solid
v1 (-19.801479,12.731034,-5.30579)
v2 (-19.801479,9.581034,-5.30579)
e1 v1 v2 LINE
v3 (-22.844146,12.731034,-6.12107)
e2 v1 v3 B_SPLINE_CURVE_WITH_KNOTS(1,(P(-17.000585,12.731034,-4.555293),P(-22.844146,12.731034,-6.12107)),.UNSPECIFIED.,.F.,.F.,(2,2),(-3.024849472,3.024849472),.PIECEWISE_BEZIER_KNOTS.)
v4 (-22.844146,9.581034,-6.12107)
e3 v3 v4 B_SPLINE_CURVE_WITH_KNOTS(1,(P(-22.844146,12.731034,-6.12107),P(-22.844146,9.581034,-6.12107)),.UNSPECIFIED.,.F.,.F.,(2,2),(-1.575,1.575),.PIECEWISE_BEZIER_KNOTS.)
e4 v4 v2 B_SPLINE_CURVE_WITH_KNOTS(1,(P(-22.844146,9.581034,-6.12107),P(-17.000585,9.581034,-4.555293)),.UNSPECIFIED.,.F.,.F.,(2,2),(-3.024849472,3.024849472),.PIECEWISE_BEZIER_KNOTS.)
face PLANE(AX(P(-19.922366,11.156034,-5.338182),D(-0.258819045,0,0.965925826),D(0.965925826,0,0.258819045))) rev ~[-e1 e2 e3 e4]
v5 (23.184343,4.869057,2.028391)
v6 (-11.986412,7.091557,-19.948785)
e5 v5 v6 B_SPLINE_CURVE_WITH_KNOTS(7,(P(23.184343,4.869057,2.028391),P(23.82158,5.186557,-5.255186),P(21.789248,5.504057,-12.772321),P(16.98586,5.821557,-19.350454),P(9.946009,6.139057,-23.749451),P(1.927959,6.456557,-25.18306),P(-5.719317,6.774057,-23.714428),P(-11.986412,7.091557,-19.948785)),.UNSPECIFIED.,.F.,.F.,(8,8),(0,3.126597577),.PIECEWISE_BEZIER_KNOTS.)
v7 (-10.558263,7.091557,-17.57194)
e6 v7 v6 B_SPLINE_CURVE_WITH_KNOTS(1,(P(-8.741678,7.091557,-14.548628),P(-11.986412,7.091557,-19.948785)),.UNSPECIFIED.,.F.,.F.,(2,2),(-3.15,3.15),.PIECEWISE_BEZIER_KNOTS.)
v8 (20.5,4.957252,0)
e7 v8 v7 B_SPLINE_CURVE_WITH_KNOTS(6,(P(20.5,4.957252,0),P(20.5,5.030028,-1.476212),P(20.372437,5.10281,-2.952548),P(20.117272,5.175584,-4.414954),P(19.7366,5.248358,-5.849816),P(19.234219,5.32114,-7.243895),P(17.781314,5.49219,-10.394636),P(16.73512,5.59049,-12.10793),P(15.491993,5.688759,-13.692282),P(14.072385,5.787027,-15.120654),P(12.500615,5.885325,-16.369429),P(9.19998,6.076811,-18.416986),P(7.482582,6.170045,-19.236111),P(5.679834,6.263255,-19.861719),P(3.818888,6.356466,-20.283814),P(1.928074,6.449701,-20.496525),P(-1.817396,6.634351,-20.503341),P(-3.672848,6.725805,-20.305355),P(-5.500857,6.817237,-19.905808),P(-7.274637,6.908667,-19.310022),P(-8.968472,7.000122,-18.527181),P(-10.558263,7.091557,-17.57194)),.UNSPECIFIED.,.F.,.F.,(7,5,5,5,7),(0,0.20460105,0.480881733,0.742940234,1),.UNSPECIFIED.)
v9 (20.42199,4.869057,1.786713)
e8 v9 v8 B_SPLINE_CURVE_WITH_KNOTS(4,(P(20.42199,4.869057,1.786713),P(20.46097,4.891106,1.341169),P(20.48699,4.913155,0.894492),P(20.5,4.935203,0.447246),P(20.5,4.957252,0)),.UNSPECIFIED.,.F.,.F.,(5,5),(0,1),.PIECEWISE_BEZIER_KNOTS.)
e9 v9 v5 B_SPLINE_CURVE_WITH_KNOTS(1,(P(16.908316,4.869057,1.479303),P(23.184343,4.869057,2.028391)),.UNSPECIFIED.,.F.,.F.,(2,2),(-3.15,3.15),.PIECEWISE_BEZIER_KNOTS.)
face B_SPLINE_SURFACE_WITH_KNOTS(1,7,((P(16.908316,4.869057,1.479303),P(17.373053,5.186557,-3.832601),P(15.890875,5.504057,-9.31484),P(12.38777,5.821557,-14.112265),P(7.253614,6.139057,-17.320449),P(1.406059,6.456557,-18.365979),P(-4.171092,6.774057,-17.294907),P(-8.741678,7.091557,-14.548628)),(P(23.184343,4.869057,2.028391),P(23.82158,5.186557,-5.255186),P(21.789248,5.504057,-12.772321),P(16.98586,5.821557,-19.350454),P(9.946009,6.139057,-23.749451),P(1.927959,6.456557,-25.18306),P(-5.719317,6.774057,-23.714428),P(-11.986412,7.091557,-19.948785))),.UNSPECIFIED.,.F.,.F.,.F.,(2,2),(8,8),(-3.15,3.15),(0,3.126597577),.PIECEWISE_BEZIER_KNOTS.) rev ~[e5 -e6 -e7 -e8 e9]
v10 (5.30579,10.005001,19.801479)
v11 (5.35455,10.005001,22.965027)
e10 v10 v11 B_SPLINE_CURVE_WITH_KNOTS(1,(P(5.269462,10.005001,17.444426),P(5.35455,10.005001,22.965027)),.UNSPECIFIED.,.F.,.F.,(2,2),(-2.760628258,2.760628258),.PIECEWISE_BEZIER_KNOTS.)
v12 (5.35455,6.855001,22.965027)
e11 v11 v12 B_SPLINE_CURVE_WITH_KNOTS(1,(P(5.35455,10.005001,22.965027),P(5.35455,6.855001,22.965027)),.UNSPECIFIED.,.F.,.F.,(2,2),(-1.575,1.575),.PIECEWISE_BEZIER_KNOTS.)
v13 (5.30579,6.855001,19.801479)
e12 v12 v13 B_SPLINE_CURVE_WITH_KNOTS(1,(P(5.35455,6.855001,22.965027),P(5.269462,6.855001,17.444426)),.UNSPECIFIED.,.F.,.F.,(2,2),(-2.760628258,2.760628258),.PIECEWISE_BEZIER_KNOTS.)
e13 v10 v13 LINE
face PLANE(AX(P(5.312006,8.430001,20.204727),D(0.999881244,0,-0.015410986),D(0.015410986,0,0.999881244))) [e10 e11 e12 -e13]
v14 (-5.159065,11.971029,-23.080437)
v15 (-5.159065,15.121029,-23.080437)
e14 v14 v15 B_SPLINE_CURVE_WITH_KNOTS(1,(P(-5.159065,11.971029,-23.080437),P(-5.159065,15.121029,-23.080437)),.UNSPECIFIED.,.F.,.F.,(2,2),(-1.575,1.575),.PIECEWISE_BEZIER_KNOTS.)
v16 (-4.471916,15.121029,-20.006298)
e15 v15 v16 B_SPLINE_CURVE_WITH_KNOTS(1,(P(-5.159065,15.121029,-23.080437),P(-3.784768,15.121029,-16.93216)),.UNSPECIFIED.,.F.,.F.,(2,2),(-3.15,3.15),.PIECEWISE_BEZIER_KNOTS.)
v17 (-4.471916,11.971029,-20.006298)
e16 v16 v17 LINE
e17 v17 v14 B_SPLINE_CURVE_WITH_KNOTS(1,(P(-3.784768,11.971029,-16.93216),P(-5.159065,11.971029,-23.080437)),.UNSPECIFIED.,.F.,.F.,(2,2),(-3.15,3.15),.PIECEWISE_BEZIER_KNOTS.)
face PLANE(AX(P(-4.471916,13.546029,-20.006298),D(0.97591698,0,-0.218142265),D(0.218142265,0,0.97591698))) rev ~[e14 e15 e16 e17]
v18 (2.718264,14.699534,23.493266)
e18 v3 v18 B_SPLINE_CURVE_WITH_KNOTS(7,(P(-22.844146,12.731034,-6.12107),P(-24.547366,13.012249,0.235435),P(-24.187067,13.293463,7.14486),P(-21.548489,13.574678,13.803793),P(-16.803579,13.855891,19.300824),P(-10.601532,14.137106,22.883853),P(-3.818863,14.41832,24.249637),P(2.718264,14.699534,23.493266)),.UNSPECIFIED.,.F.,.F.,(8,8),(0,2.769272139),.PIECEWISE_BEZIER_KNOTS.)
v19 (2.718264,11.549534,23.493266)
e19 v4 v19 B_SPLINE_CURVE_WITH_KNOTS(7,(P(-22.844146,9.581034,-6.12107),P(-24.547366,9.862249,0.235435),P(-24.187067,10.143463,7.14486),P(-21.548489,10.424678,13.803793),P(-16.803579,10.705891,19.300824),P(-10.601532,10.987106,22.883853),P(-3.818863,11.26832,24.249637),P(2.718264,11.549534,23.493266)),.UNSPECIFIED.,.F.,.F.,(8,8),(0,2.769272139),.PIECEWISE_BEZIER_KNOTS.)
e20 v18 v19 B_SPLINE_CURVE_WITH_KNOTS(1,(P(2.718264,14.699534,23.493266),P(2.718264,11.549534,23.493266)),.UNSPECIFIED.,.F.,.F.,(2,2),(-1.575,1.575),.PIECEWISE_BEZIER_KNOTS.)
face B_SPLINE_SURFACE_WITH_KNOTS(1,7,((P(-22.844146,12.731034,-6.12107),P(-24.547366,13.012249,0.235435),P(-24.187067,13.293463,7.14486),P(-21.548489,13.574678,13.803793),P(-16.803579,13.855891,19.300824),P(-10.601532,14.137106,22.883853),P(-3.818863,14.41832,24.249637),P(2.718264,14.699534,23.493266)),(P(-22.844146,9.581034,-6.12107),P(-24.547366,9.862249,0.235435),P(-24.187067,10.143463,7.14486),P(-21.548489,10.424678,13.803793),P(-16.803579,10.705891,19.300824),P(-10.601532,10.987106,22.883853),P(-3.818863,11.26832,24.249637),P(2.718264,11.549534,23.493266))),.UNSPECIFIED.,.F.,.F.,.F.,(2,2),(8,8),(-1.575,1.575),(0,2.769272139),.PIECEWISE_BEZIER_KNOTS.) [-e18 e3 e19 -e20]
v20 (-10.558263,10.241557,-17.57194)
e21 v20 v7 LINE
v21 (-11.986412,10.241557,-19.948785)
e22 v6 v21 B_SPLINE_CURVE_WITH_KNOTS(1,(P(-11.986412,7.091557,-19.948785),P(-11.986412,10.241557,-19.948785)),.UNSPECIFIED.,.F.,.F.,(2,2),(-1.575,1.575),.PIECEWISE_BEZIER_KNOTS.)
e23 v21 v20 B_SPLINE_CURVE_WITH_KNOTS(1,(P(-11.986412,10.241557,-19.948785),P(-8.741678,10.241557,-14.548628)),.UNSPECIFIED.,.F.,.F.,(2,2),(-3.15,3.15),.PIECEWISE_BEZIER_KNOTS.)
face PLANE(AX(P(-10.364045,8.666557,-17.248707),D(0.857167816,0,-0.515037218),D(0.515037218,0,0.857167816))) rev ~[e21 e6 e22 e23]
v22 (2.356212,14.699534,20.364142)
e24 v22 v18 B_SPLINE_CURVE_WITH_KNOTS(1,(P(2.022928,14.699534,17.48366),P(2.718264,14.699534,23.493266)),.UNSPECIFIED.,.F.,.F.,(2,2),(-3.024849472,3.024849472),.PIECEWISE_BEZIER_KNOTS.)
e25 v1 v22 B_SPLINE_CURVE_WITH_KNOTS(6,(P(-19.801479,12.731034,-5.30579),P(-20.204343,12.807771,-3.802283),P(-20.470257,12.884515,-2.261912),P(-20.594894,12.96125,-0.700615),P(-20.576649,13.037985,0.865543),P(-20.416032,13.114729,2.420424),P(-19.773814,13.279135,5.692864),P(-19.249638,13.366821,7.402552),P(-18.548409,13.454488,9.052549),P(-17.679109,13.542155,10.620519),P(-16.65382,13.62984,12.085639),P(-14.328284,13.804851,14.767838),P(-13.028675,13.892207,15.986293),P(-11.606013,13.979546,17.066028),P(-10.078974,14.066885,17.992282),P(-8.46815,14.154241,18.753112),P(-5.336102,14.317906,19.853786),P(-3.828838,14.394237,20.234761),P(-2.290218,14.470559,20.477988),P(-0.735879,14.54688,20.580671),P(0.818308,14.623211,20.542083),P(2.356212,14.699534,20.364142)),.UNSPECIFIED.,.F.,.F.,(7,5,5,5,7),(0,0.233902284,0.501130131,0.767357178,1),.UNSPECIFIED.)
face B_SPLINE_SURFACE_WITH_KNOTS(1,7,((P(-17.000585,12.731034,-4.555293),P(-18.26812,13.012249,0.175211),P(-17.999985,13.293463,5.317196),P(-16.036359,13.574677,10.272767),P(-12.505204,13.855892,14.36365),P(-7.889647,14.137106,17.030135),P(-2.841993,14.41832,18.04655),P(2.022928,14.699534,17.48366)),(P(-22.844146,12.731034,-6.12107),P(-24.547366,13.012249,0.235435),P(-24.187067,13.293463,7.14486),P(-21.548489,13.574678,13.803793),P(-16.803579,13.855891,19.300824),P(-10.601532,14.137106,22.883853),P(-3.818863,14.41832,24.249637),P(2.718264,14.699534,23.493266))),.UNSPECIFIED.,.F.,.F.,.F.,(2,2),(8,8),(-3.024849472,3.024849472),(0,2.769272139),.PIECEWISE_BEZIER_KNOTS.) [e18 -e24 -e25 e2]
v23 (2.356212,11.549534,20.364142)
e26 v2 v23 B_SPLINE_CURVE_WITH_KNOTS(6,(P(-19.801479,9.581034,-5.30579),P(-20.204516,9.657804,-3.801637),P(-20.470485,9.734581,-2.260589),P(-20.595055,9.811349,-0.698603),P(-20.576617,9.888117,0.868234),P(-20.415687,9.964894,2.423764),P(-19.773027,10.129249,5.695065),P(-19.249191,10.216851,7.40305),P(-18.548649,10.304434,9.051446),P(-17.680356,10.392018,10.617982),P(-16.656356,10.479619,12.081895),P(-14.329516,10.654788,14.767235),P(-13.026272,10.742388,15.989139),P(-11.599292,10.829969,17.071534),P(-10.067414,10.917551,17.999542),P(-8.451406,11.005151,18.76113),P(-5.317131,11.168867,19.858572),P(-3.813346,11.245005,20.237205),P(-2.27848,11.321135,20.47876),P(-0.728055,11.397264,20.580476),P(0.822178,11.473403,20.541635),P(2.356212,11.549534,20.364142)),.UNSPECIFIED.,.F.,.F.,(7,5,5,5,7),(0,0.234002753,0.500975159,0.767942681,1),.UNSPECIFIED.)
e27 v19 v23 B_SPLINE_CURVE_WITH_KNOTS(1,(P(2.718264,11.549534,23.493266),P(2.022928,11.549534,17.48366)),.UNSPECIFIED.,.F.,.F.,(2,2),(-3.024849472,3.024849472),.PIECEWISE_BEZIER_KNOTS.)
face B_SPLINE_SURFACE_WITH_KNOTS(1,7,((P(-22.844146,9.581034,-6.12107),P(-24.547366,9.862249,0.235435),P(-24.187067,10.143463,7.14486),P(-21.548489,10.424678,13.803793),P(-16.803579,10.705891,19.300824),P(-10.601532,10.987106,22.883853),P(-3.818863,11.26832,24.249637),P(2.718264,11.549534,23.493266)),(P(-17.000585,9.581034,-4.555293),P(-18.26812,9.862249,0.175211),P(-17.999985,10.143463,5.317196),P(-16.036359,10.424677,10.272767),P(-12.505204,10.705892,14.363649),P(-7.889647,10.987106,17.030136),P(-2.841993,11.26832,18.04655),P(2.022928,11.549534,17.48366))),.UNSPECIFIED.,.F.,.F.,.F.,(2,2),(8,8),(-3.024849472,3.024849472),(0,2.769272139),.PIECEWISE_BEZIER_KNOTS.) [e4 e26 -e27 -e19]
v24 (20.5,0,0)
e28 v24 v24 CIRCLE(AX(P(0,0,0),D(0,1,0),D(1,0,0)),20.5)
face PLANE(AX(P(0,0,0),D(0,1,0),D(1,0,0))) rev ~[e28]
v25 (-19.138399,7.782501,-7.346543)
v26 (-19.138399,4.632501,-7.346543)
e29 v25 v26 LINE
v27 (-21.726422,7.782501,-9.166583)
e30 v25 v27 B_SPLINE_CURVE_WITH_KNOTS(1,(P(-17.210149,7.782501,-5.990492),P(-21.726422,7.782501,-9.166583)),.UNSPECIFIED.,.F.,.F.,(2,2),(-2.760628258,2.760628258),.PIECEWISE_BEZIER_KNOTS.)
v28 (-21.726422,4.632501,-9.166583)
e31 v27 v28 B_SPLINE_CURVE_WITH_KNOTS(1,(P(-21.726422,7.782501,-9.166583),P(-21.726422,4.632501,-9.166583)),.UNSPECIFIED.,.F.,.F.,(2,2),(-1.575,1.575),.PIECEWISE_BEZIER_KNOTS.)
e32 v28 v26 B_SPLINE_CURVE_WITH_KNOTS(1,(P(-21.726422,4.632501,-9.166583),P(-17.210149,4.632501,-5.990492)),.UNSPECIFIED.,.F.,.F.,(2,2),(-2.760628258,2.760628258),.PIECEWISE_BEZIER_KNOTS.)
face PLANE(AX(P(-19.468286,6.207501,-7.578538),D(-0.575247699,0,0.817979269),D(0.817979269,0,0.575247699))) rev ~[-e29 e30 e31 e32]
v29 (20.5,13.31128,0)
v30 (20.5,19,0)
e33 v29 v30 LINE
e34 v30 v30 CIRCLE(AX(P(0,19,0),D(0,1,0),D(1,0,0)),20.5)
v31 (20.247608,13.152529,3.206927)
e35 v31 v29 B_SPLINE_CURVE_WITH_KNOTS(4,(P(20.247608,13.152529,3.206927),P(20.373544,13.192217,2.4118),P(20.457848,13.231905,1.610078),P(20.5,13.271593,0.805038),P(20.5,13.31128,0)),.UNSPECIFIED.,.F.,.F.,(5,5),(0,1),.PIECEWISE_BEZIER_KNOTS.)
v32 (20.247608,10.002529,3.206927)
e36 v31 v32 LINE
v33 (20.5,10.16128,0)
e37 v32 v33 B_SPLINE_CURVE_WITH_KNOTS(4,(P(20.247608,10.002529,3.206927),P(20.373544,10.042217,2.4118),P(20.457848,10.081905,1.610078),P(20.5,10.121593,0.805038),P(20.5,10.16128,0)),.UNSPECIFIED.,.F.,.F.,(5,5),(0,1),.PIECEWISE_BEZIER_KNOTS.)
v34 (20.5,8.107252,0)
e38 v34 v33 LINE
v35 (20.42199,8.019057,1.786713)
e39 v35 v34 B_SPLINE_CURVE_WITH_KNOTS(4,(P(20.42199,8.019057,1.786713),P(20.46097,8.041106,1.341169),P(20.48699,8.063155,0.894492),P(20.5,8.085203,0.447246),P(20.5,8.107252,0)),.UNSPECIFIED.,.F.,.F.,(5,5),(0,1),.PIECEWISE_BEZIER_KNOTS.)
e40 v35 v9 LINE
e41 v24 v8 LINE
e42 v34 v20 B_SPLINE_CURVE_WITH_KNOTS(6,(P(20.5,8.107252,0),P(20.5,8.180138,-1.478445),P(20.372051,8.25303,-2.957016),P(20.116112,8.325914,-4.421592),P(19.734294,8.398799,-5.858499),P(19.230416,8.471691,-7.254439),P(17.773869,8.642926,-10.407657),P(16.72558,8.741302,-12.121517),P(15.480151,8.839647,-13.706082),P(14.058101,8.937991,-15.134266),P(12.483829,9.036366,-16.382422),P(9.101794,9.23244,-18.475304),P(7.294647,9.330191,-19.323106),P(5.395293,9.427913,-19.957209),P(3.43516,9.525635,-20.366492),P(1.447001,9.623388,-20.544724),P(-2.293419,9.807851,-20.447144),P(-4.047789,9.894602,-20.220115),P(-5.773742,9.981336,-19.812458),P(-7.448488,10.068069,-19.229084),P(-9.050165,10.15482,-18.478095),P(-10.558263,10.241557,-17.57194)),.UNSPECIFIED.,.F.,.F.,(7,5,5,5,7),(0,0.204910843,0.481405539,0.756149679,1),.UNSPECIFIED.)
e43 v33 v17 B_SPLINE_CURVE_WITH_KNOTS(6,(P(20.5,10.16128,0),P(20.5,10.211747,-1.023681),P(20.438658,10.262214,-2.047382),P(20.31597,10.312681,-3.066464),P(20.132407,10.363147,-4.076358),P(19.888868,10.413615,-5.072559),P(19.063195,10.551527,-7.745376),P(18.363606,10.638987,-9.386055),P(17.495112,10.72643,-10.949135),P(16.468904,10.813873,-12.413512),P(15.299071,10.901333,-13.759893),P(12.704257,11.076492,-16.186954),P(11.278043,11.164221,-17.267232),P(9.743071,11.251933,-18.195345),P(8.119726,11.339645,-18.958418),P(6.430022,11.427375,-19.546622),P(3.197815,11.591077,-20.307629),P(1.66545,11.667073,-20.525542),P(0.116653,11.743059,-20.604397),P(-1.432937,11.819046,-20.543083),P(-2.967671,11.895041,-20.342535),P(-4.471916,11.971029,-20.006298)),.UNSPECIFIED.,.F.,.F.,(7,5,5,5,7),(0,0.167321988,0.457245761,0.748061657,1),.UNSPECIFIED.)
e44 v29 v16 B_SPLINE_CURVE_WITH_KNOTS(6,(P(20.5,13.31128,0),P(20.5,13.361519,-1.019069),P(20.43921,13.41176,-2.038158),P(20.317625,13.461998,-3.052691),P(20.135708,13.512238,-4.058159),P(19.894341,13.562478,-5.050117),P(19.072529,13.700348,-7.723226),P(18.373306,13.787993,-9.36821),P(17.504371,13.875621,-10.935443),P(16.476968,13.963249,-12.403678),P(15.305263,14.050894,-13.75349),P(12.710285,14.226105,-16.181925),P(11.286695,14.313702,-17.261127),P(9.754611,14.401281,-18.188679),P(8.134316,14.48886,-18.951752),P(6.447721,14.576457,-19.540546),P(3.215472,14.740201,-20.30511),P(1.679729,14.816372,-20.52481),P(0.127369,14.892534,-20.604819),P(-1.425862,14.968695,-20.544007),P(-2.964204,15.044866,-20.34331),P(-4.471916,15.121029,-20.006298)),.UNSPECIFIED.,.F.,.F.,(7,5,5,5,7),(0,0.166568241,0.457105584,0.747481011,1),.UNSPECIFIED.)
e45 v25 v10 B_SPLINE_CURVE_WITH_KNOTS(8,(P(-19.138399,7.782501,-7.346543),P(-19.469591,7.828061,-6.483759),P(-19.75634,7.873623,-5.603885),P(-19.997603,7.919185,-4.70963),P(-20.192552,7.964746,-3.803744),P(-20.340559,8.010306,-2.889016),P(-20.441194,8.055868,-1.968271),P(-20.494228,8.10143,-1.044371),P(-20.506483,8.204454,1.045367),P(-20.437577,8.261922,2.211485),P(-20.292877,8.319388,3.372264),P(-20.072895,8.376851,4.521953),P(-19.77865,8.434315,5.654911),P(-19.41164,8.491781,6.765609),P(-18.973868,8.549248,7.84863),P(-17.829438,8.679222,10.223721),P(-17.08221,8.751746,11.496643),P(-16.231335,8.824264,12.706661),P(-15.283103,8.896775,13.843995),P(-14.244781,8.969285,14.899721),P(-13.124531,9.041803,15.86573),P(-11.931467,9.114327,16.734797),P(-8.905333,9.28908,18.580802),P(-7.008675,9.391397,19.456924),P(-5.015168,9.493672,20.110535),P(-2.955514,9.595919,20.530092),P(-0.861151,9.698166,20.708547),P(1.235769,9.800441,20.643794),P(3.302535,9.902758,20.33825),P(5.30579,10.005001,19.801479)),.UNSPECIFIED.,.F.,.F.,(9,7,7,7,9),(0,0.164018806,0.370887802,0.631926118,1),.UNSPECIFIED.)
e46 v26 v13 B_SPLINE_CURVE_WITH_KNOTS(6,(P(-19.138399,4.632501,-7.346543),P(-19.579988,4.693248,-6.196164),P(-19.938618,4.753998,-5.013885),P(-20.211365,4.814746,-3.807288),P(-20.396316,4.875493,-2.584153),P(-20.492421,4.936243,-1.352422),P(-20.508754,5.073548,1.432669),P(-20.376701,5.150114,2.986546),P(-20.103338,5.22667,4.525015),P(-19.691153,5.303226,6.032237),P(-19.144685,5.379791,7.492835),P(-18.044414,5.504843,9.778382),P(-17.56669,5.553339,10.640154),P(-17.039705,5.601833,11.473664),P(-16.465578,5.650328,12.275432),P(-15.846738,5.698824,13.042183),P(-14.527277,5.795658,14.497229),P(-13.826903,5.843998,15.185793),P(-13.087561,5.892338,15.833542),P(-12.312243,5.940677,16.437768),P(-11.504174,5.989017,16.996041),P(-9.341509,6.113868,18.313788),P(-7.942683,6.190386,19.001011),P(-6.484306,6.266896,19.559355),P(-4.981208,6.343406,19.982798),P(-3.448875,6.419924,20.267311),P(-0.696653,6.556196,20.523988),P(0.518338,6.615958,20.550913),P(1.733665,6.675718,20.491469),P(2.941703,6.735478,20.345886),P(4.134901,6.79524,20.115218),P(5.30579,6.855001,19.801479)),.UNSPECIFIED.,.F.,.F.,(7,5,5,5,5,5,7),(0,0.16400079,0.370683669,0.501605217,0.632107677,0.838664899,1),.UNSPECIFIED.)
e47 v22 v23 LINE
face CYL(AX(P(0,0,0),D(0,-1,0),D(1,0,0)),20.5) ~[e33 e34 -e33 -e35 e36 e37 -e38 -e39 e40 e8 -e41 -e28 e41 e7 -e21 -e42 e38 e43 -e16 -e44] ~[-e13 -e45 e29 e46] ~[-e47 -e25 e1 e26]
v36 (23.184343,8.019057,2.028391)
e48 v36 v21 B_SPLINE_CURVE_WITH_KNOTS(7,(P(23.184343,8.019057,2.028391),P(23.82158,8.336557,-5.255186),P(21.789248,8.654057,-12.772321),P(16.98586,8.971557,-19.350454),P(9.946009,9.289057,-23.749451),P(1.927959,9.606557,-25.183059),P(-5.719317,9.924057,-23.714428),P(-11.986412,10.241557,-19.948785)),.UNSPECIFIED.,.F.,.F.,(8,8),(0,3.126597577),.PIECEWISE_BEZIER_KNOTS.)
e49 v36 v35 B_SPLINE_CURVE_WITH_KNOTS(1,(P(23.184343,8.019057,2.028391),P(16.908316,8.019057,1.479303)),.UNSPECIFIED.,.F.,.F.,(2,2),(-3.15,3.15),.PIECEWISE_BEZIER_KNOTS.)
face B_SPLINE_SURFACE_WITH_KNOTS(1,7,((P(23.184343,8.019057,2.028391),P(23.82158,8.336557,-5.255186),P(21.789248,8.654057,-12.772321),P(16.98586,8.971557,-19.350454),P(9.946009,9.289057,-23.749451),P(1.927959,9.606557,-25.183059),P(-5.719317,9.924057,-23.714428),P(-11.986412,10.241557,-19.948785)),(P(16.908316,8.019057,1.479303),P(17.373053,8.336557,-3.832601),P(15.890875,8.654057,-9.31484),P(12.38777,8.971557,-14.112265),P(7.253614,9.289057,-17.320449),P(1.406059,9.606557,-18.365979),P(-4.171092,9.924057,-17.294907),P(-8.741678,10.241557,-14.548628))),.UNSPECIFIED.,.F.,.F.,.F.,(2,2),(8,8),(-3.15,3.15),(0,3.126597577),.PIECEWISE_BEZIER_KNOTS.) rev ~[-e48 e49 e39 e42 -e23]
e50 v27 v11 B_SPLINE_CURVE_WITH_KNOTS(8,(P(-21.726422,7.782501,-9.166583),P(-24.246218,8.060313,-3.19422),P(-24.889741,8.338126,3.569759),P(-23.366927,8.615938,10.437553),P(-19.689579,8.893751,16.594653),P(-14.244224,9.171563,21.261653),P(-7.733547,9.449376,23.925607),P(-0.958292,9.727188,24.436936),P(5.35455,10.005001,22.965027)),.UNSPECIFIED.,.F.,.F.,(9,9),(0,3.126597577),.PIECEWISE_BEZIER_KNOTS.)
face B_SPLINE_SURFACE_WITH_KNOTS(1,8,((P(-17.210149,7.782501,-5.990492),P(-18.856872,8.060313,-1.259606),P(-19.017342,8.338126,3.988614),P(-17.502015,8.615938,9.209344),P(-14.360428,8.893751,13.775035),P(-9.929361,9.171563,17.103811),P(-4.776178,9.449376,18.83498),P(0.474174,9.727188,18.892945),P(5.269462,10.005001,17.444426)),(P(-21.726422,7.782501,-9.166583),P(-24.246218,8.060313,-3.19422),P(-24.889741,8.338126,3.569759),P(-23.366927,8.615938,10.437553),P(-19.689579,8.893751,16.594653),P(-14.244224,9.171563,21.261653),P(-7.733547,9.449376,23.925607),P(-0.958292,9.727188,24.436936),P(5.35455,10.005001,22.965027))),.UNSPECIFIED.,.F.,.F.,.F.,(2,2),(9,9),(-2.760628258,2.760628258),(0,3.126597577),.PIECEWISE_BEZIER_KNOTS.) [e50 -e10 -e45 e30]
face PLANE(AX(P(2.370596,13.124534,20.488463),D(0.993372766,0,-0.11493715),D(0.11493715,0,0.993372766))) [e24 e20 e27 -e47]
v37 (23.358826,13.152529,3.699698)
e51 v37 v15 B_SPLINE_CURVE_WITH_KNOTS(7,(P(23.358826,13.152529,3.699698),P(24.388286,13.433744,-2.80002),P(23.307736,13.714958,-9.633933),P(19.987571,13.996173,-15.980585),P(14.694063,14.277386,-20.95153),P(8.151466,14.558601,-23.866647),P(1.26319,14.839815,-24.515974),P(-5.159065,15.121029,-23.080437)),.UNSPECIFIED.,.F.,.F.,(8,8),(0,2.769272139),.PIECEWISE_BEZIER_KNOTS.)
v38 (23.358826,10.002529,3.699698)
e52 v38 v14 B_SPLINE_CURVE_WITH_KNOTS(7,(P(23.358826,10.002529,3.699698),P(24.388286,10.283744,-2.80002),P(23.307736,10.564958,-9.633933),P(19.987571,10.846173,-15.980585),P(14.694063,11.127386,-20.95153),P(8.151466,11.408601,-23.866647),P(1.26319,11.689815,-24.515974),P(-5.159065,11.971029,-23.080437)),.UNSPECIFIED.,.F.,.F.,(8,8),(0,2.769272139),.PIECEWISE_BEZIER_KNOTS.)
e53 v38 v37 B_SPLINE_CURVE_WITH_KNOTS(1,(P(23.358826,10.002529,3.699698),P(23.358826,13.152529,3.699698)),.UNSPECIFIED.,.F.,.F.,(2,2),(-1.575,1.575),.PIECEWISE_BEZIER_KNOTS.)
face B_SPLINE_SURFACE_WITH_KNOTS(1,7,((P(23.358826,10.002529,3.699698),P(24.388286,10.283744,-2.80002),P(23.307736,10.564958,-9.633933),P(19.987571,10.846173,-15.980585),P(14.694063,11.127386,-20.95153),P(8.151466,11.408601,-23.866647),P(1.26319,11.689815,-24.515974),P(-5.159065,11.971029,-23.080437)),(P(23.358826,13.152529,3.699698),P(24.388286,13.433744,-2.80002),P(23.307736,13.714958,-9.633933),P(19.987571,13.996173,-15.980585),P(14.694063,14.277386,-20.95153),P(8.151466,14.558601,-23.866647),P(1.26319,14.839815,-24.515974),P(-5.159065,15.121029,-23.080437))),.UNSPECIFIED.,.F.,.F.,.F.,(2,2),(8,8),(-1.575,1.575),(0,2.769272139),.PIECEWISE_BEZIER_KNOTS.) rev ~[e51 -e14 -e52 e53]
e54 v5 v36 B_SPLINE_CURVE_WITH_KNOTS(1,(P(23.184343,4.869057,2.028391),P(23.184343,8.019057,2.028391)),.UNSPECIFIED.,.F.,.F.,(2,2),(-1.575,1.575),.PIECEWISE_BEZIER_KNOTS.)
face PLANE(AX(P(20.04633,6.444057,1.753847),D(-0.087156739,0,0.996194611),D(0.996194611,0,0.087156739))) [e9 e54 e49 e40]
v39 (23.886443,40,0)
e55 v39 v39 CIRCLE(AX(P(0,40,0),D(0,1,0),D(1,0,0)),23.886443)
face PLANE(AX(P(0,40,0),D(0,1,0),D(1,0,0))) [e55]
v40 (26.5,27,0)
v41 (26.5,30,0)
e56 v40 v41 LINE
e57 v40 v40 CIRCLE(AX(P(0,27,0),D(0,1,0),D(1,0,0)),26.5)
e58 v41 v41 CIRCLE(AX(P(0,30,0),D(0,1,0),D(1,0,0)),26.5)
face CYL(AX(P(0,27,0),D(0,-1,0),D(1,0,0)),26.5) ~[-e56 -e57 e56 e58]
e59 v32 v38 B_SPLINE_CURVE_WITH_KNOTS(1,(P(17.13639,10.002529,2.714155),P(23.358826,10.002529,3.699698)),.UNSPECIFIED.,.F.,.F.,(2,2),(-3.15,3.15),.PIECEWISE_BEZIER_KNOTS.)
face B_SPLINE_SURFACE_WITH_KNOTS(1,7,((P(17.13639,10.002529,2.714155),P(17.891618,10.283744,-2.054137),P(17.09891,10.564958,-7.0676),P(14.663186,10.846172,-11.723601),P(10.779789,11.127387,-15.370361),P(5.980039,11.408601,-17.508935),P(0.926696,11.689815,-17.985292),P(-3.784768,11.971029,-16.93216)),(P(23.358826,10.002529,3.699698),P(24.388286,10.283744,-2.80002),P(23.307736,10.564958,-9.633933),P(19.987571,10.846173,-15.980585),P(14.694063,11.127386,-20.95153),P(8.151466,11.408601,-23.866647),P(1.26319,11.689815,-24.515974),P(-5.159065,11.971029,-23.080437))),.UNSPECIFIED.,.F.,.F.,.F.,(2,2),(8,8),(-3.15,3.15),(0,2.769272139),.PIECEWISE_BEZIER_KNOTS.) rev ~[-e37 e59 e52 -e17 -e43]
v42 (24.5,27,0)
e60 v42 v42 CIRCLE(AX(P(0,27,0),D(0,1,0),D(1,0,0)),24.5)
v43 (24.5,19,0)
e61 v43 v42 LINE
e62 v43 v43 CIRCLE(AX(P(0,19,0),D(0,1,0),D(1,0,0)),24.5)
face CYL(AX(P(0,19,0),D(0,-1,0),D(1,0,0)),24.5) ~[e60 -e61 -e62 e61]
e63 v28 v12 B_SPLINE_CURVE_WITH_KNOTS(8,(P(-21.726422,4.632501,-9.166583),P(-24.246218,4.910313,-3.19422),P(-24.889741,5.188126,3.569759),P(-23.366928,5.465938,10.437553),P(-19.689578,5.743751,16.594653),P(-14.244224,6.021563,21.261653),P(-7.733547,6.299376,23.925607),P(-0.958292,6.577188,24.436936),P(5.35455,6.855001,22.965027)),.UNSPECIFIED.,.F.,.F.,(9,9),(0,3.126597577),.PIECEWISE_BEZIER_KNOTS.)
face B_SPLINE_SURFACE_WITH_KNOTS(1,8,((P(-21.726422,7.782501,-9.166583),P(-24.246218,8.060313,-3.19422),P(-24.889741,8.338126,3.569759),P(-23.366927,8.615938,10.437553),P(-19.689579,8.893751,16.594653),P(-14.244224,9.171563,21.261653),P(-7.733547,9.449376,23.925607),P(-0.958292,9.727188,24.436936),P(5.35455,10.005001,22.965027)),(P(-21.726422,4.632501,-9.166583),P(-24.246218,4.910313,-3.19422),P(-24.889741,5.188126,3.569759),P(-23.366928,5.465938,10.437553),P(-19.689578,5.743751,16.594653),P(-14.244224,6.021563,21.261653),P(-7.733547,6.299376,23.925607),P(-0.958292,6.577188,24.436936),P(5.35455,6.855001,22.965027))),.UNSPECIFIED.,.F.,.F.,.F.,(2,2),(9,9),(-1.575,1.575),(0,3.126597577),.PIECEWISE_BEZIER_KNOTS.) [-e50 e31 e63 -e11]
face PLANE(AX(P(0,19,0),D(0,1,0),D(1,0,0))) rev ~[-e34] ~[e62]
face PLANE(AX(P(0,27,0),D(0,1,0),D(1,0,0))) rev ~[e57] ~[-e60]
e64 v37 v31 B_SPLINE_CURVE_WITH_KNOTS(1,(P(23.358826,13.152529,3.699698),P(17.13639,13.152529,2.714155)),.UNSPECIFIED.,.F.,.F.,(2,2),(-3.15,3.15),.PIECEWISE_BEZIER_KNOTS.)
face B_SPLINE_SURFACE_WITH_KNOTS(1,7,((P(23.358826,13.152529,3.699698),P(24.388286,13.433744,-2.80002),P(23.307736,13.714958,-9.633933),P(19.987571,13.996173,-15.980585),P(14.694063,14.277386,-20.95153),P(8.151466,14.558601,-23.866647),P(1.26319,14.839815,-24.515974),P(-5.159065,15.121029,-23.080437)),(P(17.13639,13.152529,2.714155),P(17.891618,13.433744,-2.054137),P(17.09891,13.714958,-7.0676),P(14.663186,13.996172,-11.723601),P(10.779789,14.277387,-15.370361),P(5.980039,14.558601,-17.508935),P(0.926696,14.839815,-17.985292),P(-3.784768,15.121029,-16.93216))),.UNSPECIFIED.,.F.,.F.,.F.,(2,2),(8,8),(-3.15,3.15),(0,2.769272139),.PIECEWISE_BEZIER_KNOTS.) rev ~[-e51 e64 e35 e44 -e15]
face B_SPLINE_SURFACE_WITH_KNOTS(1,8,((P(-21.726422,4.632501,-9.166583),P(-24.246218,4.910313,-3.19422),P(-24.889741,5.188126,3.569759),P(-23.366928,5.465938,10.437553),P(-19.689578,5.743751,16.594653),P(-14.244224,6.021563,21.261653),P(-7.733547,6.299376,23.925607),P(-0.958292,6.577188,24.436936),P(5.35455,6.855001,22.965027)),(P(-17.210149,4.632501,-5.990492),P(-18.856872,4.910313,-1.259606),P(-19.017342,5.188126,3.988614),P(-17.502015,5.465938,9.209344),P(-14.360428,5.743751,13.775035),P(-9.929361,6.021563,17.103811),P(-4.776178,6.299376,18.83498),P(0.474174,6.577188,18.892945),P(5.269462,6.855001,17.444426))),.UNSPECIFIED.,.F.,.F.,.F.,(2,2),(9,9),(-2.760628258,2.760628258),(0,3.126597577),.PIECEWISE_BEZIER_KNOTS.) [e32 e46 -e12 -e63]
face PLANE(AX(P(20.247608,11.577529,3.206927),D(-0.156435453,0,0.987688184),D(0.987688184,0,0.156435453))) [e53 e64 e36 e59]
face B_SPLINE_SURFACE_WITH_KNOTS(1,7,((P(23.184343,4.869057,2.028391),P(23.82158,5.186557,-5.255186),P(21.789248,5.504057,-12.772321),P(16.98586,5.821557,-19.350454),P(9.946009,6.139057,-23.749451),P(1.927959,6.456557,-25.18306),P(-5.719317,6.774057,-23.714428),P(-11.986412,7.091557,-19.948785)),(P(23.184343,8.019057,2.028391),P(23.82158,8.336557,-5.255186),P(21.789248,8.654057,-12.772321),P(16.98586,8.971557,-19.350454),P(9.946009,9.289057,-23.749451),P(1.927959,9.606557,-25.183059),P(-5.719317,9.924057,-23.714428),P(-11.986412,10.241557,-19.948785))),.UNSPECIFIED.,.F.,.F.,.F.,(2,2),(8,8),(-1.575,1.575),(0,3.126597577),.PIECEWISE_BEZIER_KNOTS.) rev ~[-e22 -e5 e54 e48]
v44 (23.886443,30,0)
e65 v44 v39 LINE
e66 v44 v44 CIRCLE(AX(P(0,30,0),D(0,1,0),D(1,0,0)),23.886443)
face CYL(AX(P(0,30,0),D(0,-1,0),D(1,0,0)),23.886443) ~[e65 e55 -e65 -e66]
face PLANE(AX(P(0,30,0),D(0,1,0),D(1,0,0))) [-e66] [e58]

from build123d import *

# Parameters (mm, degrees)
SKETCH1_R           = 20.5
BOSS_EXTRUDE1_DEPTH = 19
SKETCH2_R           = 24.5
BOSS_EXTRUDE2_DEPTH = 8
SKETCH3_R           = 26.5
BOSS_EXTRUDE3_DEPTH = 3
SKETCH4_R           = 23.886443451
BOSS_EXTRUDE4_DEPTH = 10
SWEEP1_PITCH        = 6.35
SWEEP1_HEIGHT       = 1.9685
SWEEP1_RADIUS       = 20.5
SWEEP1_START_ANGLE  = -105
SKETCH10_W          = 6.049698943
SKETCH10_H          = 3.15
SWEEP2_PITCH        = 6.35
SWEEP2_HEIGHT       = 2.2225
SWEEP2_RADIUS       = 20.5
SWEEP2_START_ANGLE  = -111
SKETCH11_W          = 5.521256515
SKETCH11_H          = 3.15
SWEEP3_PITCH        = 6.35
SWEEP3_HEIGHT       = 2.2225
SWEEP3_RADIUS       = 20.5
SWEEP3_START_ANGLE  = 84.999942704
SKETCH18_W          = 6.3
SKETCH18_H          = 3.15
SWEEP4_PITCH        = 6.35
SWEEP4_HEIGHT       = 1.9685
SWEEP4_RADIUS       = 20.5
SWEEP4_START_ANGLE  = 80.999942704
SKETCH19_W          = 6.3
SKETCH19_H          = 3.15


with BuildPart() as part:
    # Sketch1 → Boss-Extrude1 (new body)
    with BuildSketch(Plane(origin=(0, 0, 0), x_dir=(1, 0, 0), z_dir=(0, 1, 0))):
        Circle(SKETCH1_R)
    extrude(amount=BOSS_EXTRUDE1_DEPTH)

    # Sketch2 → Boss-Extrude2 (add)
    with BuildSketch(Plane(origin=(0, 19, 0), x_dir=(1, 0, 0), z_dir=(0, 1, 0))):
        Circle(SKETCH2_R)
    extrude(amount=BOSS_EXTRUDE2_DEPTH)

    # Sketch3 → Boss-Extrude3 (add)
    with BuildSketch(Plane(origin=(0, 27, 0), x_dir=(1, 0, 0), z_dir=(0, 1, 0))):
        Circle(SKETCH3_R)
    extrude(amount=BOSS_EXTRUDE3_DEPTH)

    # Sketch4 → Boss-Extrude4 (add)
    with BuildSketch(Plane(origin=(0, 30, 0), x_dir=(1, 0, 0), z_dir=(0, 1, 0))):
        Circle(SKETCH4_R)
    extrude(amount=BOSS_EXTRUDE4_DEPTH)

    # Sweep1: sweep along a helix
    with BuildLine() as sweep1_path:
        add(Helix(SWEEP1_PITCH, SWEEP1_HEIGHT, SWEEP1_RADIUS, center=(0, 11.25, 0), direction=(0, 1, 0), mode=Mode.PRIVATE).rotate(Axis((0, 11.25, 0), (0, 1, 0)), SWEEP1_START_ANGLE))
    # Sketch10 → Sweep1 (sweep)
    with BuildSketch(Plane.XY):
        with Locations((-20.625150529, 11.420617779)):
            Rectangle(SKETCH10_W, SKETCH10_H)
    sweep(path=sweep1_path.line, is_frenet=True)

    # Sweep2: sweep along a helix
    with BuildLine() as sweep2_path:
        add(Helix(SWEEP2_PITCH, SWEEP2_HEIGHT, SWEEP2_RADIUS, center=(0, 6.25, 0), direction=(0, 1, 0), mode=Mode.PRIVATE).rotate(Axis((0, 6.25, 0), (0, 1, 0)), SWEEP2_START_ANGLE))
    # Sketch11 → Sweep2 (sweep)
    with BuildSketch(Plane.XY.offset(5)):
        with Locations((-20.28419045, 6.826925212)):
            Rectangle(SKETCH11_W, SKETCH11_H)
    sweep(path=sweep2_path.line, is_frenet=True)

    # Sweep3: sweep along a helix
    with BuildLine() as sweep3_path:
        add(Helix(SWEEP3_PITCH, SWEEP3_HEIGHT, SWEEP3_RADIUS, center=(0, 6.25, 0), direction=(0, 1, 0), mode=Mode.PRIVATE).rotate(Axis((0, 6.25, 0), (0, 1, 0)), SWEEP3_START_ANGLE))
    # Sketch18 → Sweep3 (sweep)
    with BuildSketch(Plane.XY):
        with Locations((20.122904995, 6.532252343)):
            Rectangle(SKETCH18_W, SKETCH18_H)
    sweep(path=sweep3_path.line, is_frenet=True)

    # Sweep4: sweep along a helix
    with BuildLine() as sweep4_path:
        add(Helix(SWEEP4_PITCH, SWEEP4_HEIGHT, SWEEP4_RADIUS, center=(0, 11.25, 0), direction=(0, 1, 0), mode=Mode.PRIVATE).rotate(Axis((0, 11.25, 0), (0, 1, 0)), SWEEP4_START_ANGLE))
    # Sketch19 → Sweep4 (sweep)
    with BuildSketch(Plane.XY):
        with Locations((20.5, 11.736280473)):
            Rectangle(SKETCH19_W, SKETCH19_H)
    sweep(path=sweep4_path.line, is_frenet=True)


solid = part.part
